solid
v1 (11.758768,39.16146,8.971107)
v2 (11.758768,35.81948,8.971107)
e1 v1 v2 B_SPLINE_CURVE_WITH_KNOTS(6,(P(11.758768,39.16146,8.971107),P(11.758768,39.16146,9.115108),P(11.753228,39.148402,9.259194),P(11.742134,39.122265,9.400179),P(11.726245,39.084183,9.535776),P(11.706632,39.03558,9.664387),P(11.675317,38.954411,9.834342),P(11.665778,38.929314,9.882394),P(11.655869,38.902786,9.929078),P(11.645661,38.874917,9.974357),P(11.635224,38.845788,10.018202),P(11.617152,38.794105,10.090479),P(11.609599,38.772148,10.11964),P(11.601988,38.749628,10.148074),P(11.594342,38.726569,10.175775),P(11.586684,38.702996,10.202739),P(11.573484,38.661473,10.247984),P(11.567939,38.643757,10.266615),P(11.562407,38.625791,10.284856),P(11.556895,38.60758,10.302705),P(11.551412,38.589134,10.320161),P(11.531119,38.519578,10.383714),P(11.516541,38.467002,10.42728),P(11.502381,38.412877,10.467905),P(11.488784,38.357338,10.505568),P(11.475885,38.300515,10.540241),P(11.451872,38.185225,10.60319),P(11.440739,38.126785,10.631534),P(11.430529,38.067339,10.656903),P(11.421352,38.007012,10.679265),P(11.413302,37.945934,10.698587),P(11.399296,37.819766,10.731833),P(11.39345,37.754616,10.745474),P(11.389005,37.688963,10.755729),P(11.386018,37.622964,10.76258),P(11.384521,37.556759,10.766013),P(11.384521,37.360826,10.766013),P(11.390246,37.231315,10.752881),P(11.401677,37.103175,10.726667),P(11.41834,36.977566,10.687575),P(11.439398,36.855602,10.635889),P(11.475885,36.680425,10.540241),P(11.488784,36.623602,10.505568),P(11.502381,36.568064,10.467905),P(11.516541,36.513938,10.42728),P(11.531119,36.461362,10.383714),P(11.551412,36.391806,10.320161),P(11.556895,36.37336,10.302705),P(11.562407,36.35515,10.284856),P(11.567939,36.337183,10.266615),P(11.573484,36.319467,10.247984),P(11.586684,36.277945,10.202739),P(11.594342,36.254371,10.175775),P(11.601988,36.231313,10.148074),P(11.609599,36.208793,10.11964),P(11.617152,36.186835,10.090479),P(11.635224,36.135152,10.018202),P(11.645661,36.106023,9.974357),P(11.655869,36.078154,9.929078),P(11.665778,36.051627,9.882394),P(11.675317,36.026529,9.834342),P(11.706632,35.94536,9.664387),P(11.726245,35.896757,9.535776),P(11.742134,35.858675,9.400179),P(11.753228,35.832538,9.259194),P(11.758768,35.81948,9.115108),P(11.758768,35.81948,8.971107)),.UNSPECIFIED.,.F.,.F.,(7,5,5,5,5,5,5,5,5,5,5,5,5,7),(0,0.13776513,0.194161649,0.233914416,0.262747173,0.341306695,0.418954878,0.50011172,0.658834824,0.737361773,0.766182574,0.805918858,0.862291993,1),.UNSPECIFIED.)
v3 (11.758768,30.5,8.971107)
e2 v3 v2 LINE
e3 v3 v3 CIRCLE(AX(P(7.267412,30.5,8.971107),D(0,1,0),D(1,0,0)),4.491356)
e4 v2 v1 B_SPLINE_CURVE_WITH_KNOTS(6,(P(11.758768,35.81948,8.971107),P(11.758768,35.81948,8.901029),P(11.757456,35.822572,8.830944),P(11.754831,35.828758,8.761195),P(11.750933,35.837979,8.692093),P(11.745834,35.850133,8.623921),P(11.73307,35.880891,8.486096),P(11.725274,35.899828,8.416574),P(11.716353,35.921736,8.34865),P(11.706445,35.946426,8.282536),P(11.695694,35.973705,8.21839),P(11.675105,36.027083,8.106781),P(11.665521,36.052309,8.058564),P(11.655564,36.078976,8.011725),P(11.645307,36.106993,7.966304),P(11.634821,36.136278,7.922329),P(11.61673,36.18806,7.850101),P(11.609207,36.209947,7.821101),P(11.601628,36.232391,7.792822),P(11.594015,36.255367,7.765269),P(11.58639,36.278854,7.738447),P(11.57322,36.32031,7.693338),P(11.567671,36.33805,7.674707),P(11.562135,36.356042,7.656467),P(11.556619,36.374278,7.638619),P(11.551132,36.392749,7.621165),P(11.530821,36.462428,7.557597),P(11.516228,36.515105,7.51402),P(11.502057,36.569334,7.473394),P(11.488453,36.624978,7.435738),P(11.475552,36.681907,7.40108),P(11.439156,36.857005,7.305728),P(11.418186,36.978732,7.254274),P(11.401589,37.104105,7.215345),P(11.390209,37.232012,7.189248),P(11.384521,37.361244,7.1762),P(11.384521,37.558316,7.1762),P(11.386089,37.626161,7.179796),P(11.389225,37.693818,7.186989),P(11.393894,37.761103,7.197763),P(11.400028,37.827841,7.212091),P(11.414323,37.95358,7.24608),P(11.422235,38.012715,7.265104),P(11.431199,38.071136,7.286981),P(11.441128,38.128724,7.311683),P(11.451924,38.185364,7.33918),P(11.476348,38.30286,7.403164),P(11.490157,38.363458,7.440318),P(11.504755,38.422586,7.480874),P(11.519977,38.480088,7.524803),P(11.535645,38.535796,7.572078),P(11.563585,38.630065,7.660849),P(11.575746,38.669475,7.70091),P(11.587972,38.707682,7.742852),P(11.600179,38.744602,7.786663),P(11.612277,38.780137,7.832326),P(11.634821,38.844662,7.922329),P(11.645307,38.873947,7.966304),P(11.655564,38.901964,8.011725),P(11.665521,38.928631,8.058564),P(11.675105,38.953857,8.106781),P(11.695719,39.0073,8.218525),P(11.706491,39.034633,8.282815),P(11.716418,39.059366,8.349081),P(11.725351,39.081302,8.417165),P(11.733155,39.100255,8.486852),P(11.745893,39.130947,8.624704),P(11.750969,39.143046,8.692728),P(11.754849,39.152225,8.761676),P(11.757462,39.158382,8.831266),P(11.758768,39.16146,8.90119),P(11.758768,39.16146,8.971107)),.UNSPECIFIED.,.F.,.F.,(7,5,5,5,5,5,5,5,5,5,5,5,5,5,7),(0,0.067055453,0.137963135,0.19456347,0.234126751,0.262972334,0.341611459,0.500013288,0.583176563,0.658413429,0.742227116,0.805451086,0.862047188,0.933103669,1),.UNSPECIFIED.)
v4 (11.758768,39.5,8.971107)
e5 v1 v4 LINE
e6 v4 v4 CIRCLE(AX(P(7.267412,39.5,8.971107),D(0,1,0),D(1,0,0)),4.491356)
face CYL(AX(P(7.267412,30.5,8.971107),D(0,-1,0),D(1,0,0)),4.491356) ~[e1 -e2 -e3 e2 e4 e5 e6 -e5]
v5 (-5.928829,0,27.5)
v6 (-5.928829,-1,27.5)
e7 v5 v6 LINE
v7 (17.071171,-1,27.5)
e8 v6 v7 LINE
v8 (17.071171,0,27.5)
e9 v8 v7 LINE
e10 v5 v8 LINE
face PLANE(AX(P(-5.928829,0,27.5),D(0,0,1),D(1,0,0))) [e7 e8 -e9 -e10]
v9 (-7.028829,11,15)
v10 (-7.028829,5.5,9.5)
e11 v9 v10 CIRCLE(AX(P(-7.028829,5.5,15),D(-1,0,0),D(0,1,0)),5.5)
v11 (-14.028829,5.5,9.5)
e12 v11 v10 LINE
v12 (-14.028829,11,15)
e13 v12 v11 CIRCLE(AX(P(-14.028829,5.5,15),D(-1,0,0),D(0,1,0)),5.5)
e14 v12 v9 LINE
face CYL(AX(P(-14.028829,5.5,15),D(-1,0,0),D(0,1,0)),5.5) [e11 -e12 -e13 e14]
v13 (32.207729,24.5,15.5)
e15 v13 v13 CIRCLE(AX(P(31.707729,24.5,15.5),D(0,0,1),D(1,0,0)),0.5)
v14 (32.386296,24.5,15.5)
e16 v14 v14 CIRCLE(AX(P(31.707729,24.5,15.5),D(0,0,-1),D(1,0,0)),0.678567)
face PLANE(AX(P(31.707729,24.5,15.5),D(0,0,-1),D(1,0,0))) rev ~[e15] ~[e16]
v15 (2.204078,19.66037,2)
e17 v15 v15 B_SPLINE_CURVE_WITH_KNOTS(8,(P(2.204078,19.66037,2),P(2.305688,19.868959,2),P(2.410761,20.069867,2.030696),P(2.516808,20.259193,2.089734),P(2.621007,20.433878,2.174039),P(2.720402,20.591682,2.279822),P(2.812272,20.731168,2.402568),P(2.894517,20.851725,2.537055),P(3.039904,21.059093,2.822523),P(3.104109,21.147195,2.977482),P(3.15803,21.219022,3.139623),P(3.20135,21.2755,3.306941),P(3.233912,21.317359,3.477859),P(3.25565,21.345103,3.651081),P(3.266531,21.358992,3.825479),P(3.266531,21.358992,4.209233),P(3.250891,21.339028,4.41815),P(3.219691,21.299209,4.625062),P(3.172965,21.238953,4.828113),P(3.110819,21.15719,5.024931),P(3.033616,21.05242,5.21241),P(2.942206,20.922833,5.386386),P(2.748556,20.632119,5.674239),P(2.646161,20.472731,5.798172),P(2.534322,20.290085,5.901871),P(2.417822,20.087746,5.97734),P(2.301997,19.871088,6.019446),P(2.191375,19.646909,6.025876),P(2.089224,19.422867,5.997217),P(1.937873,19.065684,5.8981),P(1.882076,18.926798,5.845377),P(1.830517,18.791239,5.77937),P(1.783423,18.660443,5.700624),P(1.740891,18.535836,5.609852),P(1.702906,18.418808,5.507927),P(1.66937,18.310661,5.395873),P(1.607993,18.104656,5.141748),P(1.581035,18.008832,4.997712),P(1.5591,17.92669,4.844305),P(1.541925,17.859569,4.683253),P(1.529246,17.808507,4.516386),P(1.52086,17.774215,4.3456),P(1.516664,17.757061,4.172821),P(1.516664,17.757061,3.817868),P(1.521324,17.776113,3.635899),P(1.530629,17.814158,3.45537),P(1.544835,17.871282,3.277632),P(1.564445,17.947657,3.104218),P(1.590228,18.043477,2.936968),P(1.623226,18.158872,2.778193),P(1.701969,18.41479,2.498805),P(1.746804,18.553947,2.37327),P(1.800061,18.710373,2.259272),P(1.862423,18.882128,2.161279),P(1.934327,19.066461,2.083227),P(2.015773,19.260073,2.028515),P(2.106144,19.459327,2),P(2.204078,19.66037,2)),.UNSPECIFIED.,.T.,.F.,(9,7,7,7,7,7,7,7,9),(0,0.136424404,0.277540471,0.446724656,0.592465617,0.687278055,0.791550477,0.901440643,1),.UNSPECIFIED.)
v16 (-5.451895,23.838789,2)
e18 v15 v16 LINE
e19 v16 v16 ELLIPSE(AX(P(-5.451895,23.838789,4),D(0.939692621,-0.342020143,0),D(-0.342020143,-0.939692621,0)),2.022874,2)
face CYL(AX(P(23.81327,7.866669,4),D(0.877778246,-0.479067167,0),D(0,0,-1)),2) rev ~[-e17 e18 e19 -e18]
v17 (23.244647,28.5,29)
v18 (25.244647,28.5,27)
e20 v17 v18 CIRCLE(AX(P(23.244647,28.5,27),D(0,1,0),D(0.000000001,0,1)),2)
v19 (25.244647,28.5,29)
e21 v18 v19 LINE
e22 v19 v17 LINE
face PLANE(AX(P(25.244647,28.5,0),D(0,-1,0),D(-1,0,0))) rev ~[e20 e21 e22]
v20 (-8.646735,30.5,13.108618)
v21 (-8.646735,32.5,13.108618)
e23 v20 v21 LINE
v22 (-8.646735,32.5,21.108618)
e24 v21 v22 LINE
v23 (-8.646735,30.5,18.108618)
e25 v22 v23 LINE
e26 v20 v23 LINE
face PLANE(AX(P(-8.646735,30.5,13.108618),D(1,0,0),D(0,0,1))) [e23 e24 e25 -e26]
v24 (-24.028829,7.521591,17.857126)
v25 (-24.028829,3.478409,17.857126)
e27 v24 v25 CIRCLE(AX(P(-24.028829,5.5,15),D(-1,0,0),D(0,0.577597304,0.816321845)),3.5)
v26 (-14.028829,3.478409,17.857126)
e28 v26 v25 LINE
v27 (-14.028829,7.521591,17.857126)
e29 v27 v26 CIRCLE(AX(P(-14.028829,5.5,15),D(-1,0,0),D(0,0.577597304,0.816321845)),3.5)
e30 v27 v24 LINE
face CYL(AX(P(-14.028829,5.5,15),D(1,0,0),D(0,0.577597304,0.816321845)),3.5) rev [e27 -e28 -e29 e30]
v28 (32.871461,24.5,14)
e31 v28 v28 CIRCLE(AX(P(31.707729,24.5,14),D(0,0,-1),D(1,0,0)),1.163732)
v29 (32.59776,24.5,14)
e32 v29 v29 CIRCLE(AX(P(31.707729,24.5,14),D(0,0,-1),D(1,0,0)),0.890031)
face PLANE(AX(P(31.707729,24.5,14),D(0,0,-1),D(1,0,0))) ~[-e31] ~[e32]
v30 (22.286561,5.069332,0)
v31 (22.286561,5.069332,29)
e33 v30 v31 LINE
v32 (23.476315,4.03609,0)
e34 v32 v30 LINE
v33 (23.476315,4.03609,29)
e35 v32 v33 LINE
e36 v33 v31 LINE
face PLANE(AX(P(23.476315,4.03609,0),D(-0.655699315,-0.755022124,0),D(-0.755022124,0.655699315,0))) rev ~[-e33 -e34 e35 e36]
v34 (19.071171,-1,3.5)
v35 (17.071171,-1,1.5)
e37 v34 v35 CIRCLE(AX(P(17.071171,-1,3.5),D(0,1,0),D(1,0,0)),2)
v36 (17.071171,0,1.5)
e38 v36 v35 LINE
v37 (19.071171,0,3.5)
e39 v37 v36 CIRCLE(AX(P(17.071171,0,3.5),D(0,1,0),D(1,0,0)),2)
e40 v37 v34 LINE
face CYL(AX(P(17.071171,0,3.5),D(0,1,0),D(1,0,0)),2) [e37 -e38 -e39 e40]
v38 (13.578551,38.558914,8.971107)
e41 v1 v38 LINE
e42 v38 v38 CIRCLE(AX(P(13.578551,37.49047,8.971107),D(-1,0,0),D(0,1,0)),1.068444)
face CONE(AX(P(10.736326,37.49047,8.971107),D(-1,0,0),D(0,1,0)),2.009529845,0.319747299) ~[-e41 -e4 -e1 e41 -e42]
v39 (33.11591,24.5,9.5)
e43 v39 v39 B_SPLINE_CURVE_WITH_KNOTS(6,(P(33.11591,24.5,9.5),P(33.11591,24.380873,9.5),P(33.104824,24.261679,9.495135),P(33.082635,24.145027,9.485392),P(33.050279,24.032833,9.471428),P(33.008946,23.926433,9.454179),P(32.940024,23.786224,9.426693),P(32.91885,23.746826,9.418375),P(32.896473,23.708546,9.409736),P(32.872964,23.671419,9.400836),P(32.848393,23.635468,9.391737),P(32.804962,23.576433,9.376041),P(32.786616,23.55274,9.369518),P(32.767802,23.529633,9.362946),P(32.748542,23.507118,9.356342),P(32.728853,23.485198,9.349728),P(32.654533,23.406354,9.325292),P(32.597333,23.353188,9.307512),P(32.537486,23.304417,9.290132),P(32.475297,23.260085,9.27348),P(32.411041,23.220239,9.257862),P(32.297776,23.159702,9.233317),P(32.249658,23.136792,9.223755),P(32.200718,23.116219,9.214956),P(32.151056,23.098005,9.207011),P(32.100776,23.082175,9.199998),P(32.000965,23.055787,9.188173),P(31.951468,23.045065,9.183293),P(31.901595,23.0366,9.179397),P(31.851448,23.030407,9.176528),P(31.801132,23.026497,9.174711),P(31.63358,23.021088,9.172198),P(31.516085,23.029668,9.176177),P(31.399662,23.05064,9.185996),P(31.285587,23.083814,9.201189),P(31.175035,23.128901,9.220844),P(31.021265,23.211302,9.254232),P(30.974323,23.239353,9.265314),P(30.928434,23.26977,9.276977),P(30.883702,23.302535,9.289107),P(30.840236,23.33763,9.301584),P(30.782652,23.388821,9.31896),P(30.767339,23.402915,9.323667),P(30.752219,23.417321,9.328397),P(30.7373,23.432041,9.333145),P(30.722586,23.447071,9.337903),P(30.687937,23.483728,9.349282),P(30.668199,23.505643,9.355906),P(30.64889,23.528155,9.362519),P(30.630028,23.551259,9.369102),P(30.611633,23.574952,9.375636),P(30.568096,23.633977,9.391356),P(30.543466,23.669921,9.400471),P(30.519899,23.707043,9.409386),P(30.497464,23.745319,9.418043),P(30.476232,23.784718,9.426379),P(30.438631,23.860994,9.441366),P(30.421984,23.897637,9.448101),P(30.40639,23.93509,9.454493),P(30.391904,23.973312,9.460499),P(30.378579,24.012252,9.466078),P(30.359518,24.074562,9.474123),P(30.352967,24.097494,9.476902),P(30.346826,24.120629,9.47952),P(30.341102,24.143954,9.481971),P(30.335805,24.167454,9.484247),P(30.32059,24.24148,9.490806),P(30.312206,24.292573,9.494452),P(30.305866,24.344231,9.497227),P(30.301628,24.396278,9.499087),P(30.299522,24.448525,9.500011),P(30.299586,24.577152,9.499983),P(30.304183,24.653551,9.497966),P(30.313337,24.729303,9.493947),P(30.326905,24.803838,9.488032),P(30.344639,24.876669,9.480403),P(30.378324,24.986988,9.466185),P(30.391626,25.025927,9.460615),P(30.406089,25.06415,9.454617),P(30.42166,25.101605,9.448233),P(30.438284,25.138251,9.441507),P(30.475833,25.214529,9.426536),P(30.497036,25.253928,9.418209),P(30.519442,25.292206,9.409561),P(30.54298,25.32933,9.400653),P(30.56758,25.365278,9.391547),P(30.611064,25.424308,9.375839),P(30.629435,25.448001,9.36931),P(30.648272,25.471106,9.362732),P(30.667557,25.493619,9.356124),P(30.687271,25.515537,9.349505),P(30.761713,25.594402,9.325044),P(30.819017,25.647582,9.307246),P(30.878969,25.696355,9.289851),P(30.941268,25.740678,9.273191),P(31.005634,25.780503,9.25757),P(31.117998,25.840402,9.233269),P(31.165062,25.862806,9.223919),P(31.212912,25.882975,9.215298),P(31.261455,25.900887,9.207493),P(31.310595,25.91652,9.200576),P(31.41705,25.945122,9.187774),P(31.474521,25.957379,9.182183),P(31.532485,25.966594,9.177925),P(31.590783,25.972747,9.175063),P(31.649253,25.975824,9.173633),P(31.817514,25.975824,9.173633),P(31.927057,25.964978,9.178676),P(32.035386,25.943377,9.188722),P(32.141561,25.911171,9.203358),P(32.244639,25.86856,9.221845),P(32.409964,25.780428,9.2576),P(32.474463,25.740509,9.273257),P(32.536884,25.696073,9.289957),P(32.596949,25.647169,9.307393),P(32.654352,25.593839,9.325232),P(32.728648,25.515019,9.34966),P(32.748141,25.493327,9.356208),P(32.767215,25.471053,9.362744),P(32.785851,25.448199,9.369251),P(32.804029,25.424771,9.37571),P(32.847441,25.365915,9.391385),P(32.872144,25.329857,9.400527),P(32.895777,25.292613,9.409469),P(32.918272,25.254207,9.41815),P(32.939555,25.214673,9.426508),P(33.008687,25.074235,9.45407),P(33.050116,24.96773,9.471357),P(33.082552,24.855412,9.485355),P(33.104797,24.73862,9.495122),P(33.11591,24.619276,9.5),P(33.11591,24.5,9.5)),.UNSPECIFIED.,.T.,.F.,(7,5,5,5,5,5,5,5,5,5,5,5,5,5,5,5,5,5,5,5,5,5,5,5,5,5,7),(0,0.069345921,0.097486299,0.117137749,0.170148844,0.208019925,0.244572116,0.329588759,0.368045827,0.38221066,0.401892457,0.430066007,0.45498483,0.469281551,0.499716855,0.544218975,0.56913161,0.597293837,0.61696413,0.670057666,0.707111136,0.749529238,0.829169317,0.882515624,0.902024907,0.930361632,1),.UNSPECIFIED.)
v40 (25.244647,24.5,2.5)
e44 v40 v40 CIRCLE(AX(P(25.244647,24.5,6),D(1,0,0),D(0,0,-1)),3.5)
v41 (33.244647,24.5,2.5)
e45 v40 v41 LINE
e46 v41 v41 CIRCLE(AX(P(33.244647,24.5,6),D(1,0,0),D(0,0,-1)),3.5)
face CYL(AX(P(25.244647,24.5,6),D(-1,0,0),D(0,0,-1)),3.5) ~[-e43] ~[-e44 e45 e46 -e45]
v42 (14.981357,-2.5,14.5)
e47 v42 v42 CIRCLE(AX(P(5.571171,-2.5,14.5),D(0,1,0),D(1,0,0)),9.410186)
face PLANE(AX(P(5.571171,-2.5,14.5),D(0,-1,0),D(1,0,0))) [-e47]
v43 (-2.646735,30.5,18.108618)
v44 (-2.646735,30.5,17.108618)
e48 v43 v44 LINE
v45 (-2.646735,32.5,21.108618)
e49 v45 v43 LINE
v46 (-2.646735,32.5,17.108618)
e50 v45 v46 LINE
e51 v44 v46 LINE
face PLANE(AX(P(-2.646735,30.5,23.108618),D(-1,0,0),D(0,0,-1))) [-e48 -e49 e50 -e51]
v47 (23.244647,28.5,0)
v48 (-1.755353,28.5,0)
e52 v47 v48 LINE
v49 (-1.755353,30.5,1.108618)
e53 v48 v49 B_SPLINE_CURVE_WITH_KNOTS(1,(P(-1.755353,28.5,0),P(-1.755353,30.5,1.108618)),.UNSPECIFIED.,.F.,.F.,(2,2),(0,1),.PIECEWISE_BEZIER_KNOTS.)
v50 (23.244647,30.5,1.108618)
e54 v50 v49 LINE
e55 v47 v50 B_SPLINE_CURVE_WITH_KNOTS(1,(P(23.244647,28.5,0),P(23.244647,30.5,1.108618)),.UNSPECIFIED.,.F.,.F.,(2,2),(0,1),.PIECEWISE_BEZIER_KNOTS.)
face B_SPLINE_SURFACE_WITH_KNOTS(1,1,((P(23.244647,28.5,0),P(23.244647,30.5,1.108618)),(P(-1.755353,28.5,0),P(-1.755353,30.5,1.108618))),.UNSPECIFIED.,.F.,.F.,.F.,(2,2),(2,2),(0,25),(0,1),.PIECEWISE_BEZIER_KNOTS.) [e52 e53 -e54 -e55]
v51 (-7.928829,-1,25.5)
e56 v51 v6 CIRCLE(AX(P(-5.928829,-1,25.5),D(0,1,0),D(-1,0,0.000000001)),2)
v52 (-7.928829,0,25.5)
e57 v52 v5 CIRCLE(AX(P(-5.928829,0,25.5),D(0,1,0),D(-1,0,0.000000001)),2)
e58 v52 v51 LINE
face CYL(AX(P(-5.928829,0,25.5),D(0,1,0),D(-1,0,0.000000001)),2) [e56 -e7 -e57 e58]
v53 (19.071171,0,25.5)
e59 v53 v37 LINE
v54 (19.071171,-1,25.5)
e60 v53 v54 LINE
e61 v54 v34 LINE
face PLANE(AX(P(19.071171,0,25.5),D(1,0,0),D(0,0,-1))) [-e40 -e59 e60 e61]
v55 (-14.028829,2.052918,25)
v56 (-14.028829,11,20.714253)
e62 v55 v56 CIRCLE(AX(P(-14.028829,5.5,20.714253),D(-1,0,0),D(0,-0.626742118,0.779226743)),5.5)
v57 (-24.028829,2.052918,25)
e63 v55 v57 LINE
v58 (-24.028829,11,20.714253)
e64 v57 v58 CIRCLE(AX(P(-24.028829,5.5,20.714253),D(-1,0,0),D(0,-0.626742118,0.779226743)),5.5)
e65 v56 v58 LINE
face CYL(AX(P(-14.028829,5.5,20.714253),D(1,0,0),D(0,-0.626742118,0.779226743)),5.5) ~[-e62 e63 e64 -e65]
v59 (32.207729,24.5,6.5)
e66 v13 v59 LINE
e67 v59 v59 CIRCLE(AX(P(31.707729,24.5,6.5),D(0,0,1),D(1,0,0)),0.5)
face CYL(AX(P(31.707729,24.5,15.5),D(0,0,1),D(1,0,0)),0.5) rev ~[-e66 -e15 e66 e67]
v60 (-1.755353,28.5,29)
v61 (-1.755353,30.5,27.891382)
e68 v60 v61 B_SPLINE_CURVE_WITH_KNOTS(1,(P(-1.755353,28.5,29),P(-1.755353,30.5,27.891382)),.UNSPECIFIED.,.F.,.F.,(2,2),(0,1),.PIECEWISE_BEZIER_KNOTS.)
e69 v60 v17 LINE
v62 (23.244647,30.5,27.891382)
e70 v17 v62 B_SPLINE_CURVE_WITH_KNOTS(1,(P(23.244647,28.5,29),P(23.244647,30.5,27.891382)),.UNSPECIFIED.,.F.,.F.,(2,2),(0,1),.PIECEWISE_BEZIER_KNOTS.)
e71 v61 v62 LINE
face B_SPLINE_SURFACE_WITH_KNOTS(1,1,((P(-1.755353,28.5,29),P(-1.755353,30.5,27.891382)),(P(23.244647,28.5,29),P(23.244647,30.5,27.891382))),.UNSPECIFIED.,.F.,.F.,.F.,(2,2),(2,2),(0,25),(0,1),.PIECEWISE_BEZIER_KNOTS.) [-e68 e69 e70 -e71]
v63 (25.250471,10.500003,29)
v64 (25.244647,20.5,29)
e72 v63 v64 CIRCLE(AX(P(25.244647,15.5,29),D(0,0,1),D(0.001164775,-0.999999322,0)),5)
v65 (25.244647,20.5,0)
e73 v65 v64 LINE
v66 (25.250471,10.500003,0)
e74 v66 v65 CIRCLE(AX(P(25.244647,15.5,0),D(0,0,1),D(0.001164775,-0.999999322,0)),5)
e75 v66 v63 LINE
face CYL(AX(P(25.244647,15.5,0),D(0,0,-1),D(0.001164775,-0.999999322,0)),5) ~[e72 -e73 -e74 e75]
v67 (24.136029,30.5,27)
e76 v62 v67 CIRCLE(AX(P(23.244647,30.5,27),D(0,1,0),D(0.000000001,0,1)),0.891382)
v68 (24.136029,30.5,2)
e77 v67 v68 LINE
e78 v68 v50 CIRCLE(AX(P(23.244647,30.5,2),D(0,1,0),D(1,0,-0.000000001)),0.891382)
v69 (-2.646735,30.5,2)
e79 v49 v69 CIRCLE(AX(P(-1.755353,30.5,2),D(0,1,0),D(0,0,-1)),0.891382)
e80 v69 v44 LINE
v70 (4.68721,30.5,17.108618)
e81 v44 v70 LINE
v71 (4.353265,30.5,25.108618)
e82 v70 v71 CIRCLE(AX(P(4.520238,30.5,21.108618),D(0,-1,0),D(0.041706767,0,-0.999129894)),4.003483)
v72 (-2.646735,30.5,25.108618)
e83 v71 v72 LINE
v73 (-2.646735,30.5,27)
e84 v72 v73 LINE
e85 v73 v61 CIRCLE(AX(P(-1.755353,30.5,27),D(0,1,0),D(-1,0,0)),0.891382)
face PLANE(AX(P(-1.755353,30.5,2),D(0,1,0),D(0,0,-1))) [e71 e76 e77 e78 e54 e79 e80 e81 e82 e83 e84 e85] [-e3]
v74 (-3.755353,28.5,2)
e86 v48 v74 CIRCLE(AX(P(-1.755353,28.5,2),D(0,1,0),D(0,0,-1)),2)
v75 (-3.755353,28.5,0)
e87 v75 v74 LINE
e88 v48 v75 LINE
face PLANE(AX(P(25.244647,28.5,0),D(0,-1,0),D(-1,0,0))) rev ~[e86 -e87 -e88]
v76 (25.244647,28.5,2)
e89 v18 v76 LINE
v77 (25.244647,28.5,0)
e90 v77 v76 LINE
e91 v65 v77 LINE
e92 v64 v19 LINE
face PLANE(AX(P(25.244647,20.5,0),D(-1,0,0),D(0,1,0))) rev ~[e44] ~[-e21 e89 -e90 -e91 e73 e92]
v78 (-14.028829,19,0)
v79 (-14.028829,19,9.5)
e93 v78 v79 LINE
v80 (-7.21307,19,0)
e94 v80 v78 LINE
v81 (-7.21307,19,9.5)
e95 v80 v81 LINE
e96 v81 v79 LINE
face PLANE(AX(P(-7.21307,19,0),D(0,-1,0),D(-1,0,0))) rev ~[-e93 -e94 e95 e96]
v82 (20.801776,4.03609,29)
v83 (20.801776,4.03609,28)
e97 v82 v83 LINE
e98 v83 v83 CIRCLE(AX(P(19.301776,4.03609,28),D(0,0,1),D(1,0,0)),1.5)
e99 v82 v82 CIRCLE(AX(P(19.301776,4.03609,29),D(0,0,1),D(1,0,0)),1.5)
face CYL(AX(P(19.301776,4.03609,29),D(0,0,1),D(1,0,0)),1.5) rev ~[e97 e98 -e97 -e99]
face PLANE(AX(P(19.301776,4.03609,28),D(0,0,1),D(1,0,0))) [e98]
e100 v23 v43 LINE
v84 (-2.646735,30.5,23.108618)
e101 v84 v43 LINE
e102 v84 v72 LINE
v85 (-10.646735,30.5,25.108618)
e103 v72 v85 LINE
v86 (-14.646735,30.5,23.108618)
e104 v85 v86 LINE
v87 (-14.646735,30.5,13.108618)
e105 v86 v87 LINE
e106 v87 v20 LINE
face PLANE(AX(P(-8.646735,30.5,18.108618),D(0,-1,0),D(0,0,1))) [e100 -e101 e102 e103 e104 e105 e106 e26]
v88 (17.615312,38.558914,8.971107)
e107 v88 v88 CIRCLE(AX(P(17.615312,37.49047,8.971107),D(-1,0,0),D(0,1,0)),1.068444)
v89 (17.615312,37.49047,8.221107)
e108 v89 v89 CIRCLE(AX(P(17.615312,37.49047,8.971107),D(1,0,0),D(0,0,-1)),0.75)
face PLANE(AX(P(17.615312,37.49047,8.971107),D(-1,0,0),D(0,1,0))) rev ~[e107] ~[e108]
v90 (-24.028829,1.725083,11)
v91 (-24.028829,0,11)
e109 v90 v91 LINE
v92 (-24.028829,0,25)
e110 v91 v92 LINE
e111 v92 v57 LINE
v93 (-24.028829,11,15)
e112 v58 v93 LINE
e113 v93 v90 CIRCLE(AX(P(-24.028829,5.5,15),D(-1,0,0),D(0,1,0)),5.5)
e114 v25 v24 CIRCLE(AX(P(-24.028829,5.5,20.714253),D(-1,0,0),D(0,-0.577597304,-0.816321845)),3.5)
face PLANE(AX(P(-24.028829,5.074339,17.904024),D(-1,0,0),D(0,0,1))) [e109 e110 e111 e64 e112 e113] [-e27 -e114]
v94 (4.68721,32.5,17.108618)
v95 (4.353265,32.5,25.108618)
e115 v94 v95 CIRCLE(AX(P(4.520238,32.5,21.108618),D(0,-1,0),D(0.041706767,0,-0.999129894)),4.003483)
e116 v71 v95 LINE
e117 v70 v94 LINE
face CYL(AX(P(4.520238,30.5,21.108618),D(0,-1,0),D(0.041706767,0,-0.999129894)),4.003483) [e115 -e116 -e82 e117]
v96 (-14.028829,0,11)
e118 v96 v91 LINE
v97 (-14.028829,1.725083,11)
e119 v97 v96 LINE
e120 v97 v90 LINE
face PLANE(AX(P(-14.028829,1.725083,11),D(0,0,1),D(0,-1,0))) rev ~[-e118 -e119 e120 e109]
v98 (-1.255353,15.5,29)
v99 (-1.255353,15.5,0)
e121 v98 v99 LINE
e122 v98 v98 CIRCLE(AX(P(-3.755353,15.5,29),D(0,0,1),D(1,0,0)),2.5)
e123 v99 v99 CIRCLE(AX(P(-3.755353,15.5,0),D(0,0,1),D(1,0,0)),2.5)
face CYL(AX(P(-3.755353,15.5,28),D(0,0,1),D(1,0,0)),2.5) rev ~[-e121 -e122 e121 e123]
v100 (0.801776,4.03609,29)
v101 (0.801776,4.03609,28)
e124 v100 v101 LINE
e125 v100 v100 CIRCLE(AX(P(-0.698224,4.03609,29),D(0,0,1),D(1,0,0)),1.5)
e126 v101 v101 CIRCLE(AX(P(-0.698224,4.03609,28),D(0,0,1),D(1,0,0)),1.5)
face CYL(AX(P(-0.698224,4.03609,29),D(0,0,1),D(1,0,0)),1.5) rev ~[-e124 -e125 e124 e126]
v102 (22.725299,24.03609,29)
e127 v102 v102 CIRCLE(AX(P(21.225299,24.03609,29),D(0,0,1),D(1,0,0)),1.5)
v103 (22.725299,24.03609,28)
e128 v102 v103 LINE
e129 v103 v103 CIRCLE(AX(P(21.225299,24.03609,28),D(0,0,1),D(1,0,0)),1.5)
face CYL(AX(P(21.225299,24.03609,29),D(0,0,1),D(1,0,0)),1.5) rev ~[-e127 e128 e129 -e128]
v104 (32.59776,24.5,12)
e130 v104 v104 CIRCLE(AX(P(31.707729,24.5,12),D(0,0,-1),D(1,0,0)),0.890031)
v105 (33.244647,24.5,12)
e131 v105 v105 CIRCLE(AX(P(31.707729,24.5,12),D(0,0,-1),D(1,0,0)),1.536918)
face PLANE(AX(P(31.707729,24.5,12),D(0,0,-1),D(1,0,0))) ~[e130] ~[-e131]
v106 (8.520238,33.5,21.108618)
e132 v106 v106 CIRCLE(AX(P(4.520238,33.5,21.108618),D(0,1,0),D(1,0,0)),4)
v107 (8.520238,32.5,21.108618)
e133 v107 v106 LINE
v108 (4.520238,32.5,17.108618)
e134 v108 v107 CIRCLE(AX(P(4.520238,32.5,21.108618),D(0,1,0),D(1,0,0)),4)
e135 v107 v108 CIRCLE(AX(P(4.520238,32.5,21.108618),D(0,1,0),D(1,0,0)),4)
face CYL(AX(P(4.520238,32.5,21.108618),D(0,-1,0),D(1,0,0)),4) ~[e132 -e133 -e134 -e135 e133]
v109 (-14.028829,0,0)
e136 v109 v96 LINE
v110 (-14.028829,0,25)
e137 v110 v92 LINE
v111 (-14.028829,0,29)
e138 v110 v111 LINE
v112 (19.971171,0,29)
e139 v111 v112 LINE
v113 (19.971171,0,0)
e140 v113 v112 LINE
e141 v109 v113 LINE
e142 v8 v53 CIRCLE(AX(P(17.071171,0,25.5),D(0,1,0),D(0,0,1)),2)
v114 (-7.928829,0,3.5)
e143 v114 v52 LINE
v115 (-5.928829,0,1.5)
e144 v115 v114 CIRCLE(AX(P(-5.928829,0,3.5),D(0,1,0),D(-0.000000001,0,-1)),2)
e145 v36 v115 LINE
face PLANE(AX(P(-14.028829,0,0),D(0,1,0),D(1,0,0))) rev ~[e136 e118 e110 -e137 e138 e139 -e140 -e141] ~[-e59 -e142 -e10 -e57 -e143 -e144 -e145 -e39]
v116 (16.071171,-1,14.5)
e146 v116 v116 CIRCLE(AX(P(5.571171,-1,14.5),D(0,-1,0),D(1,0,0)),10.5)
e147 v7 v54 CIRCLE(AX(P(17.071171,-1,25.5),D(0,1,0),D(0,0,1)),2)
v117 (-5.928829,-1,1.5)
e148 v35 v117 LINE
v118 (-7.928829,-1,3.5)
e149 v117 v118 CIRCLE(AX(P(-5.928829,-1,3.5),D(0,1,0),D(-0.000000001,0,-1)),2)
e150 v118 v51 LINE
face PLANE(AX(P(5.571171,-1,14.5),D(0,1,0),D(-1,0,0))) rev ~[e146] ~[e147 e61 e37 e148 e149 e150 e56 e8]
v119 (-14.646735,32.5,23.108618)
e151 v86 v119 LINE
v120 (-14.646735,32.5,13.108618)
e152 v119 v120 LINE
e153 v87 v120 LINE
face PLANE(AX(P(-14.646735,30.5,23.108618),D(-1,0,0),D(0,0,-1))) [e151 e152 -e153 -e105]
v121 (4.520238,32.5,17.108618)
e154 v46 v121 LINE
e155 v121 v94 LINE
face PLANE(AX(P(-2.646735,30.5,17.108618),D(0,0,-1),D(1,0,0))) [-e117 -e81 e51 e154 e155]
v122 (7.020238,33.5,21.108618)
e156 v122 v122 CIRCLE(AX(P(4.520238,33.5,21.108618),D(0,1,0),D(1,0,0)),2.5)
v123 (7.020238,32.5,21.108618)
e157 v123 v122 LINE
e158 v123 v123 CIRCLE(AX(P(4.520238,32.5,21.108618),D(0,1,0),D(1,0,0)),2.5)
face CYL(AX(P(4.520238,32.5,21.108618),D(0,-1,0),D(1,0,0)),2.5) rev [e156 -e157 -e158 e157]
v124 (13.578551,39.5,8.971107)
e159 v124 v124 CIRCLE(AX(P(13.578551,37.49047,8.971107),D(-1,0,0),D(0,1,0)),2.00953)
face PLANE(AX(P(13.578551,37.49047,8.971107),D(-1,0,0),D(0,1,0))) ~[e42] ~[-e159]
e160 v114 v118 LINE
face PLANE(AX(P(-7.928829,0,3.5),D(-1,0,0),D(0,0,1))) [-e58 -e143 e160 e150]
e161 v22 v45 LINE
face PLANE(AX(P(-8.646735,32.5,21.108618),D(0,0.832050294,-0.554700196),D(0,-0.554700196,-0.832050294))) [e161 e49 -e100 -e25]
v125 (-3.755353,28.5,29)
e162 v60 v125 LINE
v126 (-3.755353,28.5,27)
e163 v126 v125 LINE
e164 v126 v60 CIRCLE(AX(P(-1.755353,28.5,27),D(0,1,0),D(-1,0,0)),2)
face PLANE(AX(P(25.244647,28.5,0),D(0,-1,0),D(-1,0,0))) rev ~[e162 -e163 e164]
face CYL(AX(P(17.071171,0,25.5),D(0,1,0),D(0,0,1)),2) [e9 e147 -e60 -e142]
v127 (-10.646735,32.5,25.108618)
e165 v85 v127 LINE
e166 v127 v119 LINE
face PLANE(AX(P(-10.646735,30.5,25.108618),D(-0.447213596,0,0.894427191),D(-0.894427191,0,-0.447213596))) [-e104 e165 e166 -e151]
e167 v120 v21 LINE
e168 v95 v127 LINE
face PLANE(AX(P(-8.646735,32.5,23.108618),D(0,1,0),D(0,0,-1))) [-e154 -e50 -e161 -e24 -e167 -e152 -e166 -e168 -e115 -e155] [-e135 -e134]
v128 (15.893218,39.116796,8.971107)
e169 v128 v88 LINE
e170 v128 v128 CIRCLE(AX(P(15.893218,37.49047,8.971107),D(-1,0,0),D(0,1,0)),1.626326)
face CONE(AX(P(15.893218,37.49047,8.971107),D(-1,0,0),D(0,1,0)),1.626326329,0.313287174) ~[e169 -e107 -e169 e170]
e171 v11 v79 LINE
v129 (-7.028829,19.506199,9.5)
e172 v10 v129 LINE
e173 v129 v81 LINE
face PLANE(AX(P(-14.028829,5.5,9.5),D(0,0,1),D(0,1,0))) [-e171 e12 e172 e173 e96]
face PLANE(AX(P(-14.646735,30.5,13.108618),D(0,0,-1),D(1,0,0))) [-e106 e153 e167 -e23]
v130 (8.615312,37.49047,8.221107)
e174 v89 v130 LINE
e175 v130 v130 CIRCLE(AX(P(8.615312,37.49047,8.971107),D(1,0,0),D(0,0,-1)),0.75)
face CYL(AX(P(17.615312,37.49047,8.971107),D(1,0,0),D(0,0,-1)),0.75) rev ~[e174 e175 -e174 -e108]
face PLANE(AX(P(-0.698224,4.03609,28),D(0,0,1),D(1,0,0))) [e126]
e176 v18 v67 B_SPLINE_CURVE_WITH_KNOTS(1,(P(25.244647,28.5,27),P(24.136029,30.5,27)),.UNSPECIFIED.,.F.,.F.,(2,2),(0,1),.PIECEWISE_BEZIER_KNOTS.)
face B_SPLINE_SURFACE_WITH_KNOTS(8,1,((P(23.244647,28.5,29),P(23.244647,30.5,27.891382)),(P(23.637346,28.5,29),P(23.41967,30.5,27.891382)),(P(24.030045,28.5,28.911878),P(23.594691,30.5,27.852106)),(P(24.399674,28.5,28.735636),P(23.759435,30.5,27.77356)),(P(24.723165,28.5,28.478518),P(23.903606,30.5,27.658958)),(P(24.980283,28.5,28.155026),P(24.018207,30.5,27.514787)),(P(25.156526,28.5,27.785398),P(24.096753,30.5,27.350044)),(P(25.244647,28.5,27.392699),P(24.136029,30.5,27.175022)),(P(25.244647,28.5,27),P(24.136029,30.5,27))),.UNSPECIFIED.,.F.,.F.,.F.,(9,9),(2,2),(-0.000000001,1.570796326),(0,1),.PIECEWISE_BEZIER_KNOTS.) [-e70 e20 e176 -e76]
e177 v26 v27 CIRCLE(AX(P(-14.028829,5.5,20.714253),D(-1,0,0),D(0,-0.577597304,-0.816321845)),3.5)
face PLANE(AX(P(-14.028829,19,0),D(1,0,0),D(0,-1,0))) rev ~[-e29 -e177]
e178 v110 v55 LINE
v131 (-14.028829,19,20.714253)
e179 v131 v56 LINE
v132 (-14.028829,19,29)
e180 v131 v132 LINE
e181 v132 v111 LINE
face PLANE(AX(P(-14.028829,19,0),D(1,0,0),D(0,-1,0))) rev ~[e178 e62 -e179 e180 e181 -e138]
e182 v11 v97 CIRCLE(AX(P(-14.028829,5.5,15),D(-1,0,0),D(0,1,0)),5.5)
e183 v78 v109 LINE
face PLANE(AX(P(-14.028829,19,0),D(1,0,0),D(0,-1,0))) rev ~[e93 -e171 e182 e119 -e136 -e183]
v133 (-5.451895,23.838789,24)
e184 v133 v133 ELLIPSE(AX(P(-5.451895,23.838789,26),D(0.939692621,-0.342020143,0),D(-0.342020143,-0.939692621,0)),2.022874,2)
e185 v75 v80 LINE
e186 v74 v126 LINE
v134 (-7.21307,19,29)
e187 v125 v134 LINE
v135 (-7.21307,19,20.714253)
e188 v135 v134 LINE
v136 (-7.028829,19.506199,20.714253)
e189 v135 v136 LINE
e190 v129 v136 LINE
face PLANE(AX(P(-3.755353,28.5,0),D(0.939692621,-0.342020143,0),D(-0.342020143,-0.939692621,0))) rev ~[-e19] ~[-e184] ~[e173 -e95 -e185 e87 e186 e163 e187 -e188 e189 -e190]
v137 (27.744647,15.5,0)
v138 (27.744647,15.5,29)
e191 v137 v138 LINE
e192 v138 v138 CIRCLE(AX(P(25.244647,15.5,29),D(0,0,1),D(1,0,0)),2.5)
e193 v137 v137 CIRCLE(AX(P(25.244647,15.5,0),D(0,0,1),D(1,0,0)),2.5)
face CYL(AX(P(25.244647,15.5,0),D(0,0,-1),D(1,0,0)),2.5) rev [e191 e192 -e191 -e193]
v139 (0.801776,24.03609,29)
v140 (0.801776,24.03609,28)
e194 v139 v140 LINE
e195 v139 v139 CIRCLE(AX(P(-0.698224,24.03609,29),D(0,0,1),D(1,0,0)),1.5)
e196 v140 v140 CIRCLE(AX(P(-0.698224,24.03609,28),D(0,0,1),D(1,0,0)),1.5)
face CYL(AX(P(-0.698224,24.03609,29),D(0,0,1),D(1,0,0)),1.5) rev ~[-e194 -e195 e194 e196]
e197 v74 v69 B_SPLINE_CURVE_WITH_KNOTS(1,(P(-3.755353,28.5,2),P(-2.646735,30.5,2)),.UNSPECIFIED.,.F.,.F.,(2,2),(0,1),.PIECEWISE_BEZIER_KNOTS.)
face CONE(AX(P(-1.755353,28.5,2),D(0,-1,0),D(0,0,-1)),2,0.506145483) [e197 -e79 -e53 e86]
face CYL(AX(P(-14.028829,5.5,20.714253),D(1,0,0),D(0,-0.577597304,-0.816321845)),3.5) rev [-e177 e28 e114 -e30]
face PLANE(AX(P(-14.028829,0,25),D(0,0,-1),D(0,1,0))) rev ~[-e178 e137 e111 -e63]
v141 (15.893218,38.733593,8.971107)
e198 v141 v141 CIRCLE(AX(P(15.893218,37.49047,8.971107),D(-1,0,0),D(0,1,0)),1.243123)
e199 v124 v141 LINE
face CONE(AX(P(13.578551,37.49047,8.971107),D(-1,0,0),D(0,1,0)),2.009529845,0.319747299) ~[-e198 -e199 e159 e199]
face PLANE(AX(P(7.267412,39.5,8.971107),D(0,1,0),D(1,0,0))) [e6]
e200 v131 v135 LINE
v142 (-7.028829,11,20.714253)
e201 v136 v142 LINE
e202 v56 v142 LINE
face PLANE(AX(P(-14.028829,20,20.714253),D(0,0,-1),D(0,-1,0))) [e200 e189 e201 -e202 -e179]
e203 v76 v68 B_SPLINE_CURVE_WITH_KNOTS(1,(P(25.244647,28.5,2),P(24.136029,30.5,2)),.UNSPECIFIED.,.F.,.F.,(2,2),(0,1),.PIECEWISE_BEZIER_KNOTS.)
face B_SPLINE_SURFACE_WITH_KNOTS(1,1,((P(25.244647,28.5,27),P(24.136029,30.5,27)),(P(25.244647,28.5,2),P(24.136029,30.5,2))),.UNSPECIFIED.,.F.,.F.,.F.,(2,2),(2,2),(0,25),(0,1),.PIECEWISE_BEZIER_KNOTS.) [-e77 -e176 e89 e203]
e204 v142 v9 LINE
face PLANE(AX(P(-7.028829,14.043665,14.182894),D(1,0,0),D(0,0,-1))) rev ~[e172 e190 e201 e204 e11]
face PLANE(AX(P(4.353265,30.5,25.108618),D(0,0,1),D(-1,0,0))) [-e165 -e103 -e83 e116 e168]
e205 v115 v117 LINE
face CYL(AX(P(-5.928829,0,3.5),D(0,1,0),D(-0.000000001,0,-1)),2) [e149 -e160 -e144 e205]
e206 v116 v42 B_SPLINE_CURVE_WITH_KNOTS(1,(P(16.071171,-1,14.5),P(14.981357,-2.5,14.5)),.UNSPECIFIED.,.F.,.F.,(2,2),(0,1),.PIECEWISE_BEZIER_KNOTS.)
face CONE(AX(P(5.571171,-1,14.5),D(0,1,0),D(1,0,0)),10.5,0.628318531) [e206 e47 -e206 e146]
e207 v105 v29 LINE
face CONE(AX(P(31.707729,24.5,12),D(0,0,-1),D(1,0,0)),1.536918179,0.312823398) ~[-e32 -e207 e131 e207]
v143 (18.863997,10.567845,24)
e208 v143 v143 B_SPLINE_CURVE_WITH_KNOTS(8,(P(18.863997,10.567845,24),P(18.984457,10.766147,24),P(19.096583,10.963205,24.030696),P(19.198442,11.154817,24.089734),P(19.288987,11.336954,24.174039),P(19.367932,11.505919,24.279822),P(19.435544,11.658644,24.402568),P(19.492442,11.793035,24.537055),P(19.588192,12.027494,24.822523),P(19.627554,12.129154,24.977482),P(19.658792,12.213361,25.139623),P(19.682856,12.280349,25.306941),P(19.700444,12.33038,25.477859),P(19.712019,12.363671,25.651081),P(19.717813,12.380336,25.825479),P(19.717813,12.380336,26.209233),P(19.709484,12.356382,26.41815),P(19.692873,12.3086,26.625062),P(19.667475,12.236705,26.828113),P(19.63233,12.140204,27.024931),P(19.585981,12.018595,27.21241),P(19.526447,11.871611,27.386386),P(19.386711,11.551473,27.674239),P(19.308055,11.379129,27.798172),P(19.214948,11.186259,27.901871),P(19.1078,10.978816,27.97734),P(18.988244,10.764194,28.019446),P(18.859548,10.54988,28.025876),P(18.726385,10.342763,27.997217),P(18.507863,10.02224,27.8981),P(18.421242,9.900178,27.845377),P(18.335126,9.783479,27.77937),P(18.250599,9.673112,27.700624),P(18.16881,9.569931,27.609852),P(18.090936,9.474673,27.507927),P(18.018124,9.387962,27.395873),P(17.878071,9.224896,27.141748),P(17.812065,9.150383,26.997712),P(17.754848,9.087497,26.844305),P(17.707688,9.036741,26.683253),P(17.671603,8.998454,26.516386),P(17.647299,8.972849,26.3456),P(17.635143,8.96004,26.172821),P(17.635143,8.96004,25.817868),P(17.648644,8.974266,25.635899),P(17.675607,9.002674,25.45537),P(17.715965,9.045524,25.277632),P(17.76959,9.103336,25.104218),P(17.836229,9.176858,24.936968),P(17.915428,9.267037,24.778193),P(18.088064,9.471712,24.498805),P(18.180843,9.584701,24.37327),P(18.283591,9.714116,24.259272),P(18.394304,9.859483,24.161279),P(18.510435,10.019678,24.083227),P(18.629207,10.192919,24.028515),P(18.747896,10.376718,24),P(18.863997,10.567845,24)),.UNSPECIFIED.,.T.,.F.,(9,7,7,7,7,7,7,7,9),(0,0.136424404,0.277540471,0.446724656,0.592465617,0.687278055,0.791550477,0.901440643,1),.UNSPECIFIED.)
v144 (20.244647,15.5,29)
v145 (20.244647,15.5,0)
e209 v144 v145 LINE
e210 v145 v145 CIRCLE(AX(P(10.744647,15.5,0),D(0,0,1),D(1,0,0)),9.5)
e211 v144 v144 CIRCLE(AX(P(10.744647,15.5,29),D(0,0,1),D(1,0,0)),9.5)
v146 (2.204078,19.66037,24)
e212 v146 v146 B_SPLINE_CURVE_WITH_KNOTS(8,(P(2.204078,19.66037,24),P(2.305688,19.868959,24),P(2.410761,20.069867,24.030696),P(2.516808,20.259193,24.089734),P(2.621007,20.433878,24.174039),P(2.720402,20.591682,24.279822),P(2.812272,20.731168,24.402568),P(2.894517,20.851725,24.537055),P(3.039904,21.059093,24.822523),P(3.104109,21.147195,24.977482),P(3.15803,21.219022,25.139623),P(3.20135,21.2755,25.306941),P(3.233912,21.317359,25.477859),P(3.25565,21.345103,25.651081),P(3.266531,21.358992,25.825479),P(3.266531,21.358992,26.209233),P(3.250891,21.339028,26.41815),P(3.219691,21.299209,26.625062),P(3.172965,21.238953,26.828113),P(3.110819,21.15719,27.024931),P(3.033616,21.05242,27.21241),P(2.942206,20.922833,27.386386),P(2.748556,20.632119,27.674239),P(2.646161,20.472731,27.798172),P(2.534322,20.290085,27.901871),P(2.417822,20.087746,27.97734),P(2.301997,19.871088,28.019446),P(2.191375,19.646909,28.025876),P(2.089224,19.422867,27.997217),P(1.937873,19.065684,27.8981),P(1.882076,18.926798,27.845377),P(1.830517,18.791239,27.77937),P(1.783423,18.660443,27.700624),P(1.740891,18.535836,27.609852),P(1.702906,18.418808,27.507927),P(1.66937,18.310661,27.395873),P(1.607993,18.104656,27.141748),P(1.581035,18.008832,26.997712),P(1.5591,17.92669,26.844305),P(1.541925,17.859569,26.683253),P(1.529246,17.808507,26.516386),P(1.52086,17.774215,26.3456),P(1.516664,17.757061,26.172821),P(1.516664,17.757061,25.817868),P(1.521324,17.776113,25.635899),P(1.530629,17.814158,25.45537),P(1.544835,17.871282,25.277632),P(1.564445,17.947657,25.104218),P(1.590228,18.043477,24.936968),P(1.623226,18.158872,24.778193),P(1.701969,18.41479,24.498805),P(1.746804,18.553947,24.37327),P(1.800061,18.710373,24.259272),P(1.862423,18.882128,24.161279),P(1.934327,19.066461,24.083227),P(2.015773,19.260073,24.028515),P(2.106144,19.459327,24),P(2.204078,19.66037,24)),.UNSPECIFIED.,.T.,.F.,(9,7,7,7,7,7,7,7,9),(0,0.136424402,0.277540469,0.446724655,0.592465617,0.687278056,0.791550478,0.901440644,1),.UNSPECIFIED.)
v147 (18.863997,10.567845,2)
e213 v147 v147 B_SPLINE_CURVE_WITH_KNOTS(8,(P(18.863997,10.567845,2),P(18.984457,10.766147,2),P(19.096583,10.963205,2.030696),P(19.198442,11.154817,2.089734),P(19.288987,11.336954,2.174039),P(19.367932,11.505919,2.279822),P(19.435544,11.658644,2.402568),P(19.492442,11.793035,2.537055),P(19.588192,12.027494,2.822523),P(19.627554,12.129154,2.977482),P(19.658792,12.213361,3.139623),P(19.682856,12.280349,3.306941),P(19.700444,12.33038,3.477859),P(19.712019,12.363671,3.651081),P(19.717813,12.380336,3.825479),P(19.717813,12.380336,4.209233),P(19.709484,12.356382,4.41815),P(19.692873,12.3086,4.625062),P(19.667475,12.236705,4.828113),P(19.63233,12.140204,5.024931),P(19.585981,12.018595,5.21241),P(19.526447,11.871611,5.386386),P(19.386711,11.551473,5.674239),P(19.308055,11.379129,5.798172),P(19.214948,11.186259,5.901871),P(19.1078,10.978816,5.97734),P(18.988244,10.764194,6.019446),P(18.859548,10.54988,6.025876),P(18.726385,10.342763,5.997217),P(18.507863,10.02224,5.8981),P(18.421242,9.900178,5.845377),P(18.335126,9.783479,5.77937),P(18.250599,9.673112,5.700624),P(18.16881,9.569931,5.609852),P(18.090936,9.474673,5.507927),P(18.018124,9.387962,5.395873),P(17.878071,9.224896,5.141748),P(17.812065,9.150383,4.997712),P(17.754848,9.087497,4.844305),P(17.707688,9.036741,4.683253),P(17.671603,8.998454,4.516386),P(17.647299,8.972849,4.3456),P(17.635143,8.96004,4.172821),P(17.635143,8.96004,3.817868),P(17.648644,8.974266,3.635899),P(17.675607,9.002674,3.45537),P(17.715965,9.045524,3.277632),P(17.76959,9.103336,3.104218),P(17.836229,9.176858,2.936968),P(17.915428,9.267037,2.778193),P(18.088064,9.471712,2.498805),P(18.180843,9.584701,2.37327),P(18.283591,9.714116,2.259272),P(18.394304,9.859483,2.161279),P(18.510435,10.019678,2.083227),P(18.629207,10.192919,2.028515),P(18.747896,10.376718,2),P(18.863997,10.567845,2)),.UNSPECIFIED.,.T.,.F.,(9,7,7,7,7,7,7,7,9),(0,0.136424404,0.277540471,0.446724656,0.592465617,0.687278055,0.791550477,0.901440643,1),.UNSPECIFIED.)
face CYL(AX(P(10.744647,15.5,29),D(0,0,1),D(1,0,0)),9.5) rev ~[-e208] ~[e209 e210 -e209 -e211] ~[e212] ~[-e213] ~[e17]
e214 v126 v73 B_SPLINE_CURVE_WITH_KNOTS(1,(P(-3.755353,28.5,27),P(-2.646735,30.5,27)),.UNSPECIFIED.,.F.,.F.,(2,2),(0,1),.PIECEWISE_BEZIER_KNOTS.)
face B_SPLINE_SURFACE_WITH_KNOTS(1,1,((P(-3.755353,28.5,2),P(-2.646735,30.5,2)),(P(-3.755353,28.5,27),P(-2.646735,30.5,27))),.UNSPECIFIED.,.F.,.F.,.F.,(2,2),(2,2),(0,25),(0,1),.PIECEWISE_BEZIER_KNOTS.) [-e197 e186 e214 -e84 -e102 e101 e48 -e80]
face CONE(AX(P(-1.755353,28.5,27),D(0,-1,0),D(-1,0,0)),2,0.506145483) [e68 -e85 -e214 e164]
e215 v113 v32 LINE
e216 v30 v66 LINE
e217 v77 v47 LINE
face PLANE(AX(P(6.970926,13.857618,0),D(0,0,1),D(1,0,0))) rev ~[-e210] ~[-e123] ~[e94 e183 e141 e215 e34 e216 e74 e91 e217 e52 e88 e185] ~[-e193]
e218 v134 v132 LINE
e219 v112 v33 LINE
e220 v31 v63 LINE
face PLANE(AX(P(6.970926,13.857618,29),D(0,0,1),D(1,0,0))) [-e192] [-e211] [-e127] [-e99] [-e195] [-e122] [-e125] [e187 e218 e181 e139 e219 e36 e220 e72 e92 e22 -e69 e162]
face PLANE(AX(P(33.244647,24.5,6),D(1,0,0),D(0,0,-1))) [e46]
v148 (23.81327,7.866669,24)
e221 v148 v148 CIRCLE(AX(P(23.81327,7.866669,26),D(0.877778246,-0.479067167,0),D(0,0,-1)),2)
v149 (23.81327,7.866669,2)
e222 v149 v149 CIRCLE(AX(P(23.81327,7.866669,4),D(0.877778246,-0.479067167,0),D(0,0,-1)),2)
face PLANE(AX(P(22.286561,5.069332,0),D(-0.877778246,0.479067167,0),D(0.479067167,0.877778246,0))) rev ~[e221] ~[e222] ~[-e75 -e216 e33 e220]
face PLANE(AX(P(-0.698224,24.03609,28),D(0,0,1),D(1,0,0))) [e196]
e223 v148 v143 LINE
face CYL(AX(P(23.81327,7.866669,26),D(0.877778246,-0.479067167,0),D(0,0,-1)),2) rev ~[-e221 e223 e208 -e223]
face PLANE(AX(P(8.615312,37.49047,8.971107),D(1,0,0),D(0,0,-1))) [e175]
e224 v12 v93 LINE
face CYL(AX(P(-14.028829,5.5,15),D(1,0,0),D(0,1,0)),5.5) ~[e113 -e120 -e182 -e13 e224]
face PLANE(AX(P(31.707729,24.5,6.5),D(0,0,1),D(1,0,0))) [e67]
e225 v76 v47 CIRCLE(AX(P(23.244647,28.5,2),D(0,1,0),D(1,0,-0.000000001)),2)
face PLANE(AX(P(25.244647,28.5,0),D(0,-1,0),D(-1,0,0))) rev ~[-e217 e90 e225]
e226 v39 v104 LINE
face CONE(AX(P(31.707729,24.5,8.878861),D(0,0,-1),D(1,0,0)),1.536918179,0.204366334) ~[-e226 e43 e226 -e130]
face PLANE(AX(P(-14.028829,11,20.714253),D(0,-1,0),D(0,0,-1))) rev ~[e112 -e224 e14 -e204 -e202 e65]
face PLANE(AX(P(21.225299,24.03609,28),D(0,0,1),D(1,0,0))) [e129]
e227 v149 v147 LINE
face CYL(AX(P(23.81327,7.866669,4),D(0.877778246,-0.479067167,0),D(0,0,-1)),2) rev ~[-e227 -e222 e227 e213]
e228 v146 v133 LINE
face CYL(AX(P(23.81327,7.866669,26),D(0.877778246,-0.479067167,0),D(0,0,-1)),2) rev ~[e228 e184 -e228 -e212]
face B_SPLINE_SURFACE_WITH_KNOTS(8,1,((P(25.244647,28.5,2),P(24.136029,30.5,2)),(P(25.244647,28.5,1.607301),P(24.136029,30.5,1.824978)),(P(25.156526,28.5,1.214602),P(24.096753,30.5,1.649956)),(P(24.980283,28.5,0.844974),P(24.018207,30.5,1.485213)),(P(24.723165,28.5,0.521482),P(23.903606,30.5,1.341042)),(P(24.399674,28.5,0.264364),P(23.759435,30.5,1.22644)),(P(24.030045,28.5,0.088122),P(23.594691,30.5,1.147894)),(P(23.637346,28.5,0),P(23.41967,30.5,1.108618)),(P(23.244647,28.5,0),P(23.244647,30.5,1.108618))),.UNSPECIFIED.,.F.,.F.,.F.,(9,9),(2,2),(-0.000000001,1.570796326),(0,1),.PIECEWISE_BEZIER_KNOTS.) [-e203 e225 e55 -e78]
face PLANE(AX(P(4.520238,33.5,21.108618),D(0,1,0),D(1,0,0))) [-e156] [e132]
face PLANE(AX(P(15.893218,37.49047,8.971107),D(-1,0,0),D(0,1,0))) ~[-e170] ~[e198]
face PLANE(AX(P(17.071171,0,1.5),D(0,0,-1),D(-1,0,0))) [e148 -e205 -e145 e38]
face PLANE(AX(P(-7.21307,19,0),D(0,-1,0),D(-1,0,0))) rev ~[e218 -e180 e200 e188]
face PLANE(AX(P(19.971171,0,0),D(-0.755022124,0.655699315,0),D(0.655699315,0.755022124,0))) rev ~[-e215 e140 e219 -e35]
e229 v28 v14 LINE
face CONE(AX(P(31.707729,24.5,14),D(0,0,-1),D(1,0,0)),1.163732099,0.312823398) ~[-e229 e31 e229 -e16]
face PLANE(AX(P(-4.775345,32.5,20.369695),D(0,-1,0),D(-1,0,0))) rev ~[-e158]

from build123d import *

# Parameters (mm, degrees)
SKETCH1_R            = 2.5
BOSS_EXTRUDE1_DEPTH  = 29
SKETCH2_R            = 9.5
CUT_EXTRUDE1_DEPTH   = 30
SKETCH2_6_R          = 9.5
SKETCH2_6_R_2        = 2.5
SKETCH2_6_R_3        = 1.5
CUT_EXTRUDE2_DEPTH   = 1
SKETCH6_R            = 2.5
SKETCH6_R_2          = 9.5
CUT_EXTRUDE3_DEPTH   = 29
SKETCH27_R           = 2
CUT_EXTRUDE7_DEPTH   = 65
BOSS_EXTRUDE2_DEPTH  = 10
CUT_EXTRUDE4_DEPTH   = 7
BOSS_EXTRUDE3_DEPTH  = 1
SKETCH13_R           = 10.5
BOSS_EXTRUDE4_DEPTH  = 1.5
BOSS_EXTRUDE4_TAPER  = 36
SKETCH14_R           = 3.5
BOSS_EXTRUDE5_DEPTH  = 8
BOSS_EXTRUDE6_DEPTH  = 2
BOSS_EXTRUDE6_TAPER  = 29
SKETCH18_R           = 4.491355914
BOSS_EXTRUDE7_DEPTH  = 9
BOSS_EXTRUDE8_DEPTH  = 2
SKETCH20_R           = 4
SKETCH20_R_2         = 2.5
BOSS_EXTRUDE9_DEPTH  = 1
BOSS_EXTRUDE10_DEPTH = 6
SKETCH25_R           = 0.5
CUT_EXTRUDE5_DEPTH   = 9
SKETCH26_R           = 0.75
CUT_EXTRUDE6_DEPTH   = 9


with BuildPart() as part:
    # Sketch1 → Boss-Extrude1 (new body)
    with BuildSketch(Plane.XY):
        with BuildLine():
            Line((-14.028828829, 0), (19.971171171, 0))
            Line((19.971171171, 0), (23.476315099, 4.036089643))
            Line((23.476315099, 4.036089643), (22.286560603, 5.069332489))
            Line((22.286560603, 5.069332489), (25.250471061, 10.500003392))
            ThreePointArc((25.250471061, 10.500003392), (30.244646337, 15.502911939), (25.244647185, 20.5))
            Line((25.244647185, 20.5), (25.244647185, 28.5))
            Line((25.244647185, 28.5), (-3.755352815, 28.5))
            Line((-3.755352815, 28.5), (-7.213070041, 19))
            Line((-7.213070041, 19), (-14.028828829, 19))
            Line((-14.028828829, 19), (-14.028828829, 0))
        make_face()
        with Locations((25.244647185, 15.5)):
            Circle(SKETCH1_R, mode=Mode.SUBTRACT)
    extrude(amount=BOSS_EXTRUDE1_DEPTH)

    # Sketch2 → Cut-Extrude1 (cut, through all)
    with BuildSketch(Plane.XY.offset(29)):
        with Locations((10.744647185, 15.5)):
            Circle(SKETCH2_R)
    extrude(amount=-CUT_EXTRUDE1_DEPTH, mode=Mode.SUBTRACT)

    # Sketch2_6 → Cut-Extrude2 (cut)
    with BuildSketch(Plane.XY.offset(29)):
        with Locations((10.744647185, 15.5)):
            Circle(SKETCH2_6_R)
        with Locations((-3.755352815, 15.5)):
            Circle(SKETCH2_6_R_2)
        with Locations((21.22529921, 24.036089643)):
            Circle(SKETCH2_6_R_3)
        with Locations((-0.698224059, 24.036089643)):
            Circle(SKETCH2_6_R_3)
        with Locations((19.301775941, 4.036089643)):
            Circle(SKETCH2_6_R_3)
        with Locations((-0.698224059, 4.036089643)):
            Circle(SKETCH2_6_R_3)
    extrude(amount=-CUT_EXTRUDE2_DEPTH, mode=Mode.SUBTRACT)

    # Sketch6 → Cut-Extrude3 (cut, through all)
    with BuildSketch(Plane.XY.offset(28)):
        with Locations((-3.755352815, 15.5)):
            Circle(SKETCH6_R)
        with Locations((25.244647185, 15.5)):
            Circle(SKETCH6_R)
        with Locations((10.744647185, 15.5)):
            Circle(SKETCH6_R_2)
    extrude(amount=-CUT_EXTRUDE3_DEPTH, mode=Mode.SUBTRACT)

    # Sketch27 → Cut-Extrude7 (cut)
    with BuildSketch(Plane(origin=(15.039946678, -8.208388255, 0), x_dir=(0, 0, -1), z_dir=(0.877778246, -0.479067167, 0))):
        with Locations((-26, 18.313346199)):
            Circle(SKETCH27_R)
        with Locations((-4, 18.313346199)):
            Circle(SKETCH27_R)
    extrude(amount=-CUT_EXTRUDE7_DEPTH, mode=Mode.SUBTRACT)

    # Sketch10 → Boss-Extrude2 (add)
    with BuildSketch(Plane.ZY.offset(14.028828829)):
        with BuildLine():
            Line((11, 0), (25, 0))
            Line((25, 0), (25, 2.052918349))
            ThreePointArc((25, 2.052918349), (25.674542678, 7.876031451), (20.714252914, 11))
            Line((20.714252914, 11), (15, 11))
            ThreePointArc((15, 11), (9.949651265, 7.678067412), (11, 1.725082782))
            Line((11, 1.725082782), (11, 0))
        make_face()
        with BuildLine():
            ThreePointArc((17.857126457, 3.478409436), (24.214252914, 5.5), (17.857126457, 7.521590564))
            ThreePointArc((17.857126457, 7.521590564), (11.5, 5.5), (17.857126457, 3.478409436))
        make_face(mode=Mode.SUBTRACT)
    extrude(amount=BOSS_EXTRUDE2_DEPTH)

    # Sketch11 → Cut-Extrude4 (cut)
    with BuildSketch(Plane.ZY.offset(14.028828829)):
        with BuildLine():
            Line((9.5, 5.5), (9.5, 19))
            Line((9.5, 19), (9.5, 20))
            Line((9.5, 20), (20.714252914, 20))
            Line((20.714252914, 20), (20.714252914, 19))
            Line((20.714252914, 19), (20.714252914, 11))
            Line((20.714252914, 11), (15, 11))
            ThreePointArc((15, 11), (11.110912703, 9.389087297), (9.5, 5.5))
        make_face()
    extrude(amount=-CUT_EXTRUDE4_DEPTH, mode=Mode.SUBTRACT)

    # Sketch12 → Boss-Extrude3 (add)
    with BuildSketch(Plane.XZ):
        with BuildLine():
            Line((-5.928828829, 27.5), (17.071171171, 27.5))
            ThreePointArc((17.071171171, 27.5), (18.485384734, 26.914213562), (19.071171171, 25.5))
            Line((19.071171171, 25.5), (19.071171171, 3.5))
            ThreePointArc((19.071171171, 3.5), (18.485384734, 2.085786438), (17.071171171, 1.5))
            Line((17.071171171, 1.5), (-5.928828829, 1.5))
            ThreePointArc((-5.928828829, 1.5), (-7.343042391, 2.085786438), (-7.928828829, 3.5))
            Line((-7.928828829, 3.5), (-7.928828829, 25.5))
            ThreePointArc((-7.928828829, 25.5), (-7.343042391, 26.914213562), (-5.928828829, 27.5))
        make_face()
    extrude(amount=BOSS_EXTRUDE3_DEPTH)

    # Sketch13 → Boss-Extrude4 (add)
    with BuildSketch(Plane.XZ.offset(1)):
        with Locations((5.571171171, 14.5)):
            Circle(SKETCH13_R)
    extrude(amount=BOSS_EXTRUDE4_DEPTH, taper=BOSS_EXTRUDE4_TAPER)

    # Sketch14 → Boss-Extrude5 (add)
    with BuildSketch(Plane(origin=(25.244647185, 0, 0), x_dir=(0, 0, -1), z_dir=(1, 0, 0))):
        with Locations((-6, 24.5)):
            Circle(SKETCH14_R)
    extrude(amount=BOSS_EXTRUDE5_DEPTH)

    # Sketch16 → Revolve1 (revolve)
    with BuildSketch(Plane.ZX.offset(24.5)):
        Polygon((8.87886056, 33.244647185), (12, 32.59776031), (12, 33.244647185), (14, 32.59776031), (14, 32.871461105), (15.5, 32.386295949), (15.5, 31.707729006), (9.5, 31.707729006), (8.87886056, 31.707729006), align=None)
    revolve(axis=Axis((31.707729006, 24.5, 15.5), (0, 0, -1)))

    # Sketch17 → Boss-Extrude6 (add)
    with BuildSketch(Plane(origin=(0, 28.5, 0), x_dir=(1, 0, 0), z_dir=(0, 1, 0))):
        with BuildLine():
            Line((23.244647185, 0), (-1.755352815, 0))
            ThreePointArc((-1.755352815, 0), (-3.169566378, -0.585786438), (-3.755352815, -2))
            Line((-3.755352815, -2), (-3.755352815, -27))
            ThreePointArc((-3.755352815, -27), (-3.169566378, -28.414213562), (-1.755352815, -29))
            Line((-1.755352815, -29), (23.244647185, -29))
            ThreePointArc((23.244647185, -29), (24.658860747, -28.414213562), (25.244647185, -27))
            Line((25.244647185, -27), (25.244647185, -2))
            ThreePointArc((25.244647185, -2), (24.658860747, -0.585786438), (23.244647185, 0))
        make_face()
    extrude(amount=BOSS_EXTRUDE6_DEPTH, taper=BOSS_EXTRUDE6_TAPER)

    # Sketch18 → Boss-Extrude7 (add)
    with BuildSketch(Plane(origin=(0, 30.5, 0), x_dir=(1, 0, 0), z_dir=(0, 1, 0))):
        with Locations((7.267412162, -8.971106597)):
            Circle(SKETCH18_R)
    extrude(amount=BOSS_EXTRUDE7_DEPTH)

    # Sketch19 → Boss-Extrude8 (add)
    with BuildSketch(Plane(origin=(0, 30.5, 0), x_dir=(1, 0, 0), z_dir=(0, 1, 0))):
        with BuildLine():
            Line((-10.646734712, -25.108618103), (-14.646734712, -23.108618103))
            Line((-14.646734712, -23.108618103), (-14.646734712, -13.108618103))
            Line((-14.646734712, -13.108618103), (-8.646734712, -13.108618103))
            Line((-8.646734712, -13.108618103), (-8.646734712, -23.108618103))
            Line((-8.646734712, -23.108618103), (-2.646734712, -23.108618103))
            Line((-2.646734712, -23.108618103), (-2.646734712, -17.108618103))
            Line((-2.646734712, -17.108618103), (4.687209994, -17.108618103))
            ThreePointArc((4.687209994, -17.108618103), (8.520237641, -21.275590456), (4.353265288, -25.108618103))
            Line((4.353265288, -25.108618103), (-2.646734712, -25.108618103))
            Line((-2.646734712, -25.108618103), (-10.646734712, -25.108618103))
        make_face()
    extrude(amount=BOSS_EXTRUDE8_DEPTH)

    # Sketch20 → Boss-Extrude9 (add)
    with BuildSketch(Plane(origin=(0, 32.5, 0), x_dir=(1, 0, 0), z_dir=(0, 1, 0))):
        with Locations((4.520237641, -21.108618103)):
            Circle(SKETCH20_R)
        with Locations((4.520237641, -21.108618103)):
            Circle(SKETCH20_R_2, mode=Mode.SUBTRACT)
    extrude(amount=BOSS_EXTRUDE9_DEPTH)

    # Sketch22 → Revolve2 (revolve)
    with BuildSketch(Plane(origin=(0, 0, 8.971106597), x_dir=(-1, 0, 0), z_dir=(0, 0, -1))):
        Polygon((-17.615312055, 37.490470155), (-10.736326453, 37.490470155), (-10.736326453, 39.5), (-13.578550719, 38.558914033), (-13.578550719, 39.5), (-15.893217754, 38.733592967), (-15.893217754, 39.116796484), (-17.615312055, 38.558914033), align=None)
    revolve(axis=Axis((17.615312055, 37.490470155, 8.971106597), (-1, 0, 0)))

    # Sketch24 → Boss-Extrude10 (add)
    with BuildSketch(Plane(origin=(-8.646734712, 0, 0), x_dir=(0, 0, -1), z_dir=(1, 0, 0))):
        Polygon((-21.108618103, 32.5), (-18.108618103, 30.5), (-23.108618103, 30.5), (-23.108618103, 32.5), align=None)
    extrude(amount=BOSS_EXTRUDE10_DEPTH)

    # Sketch25 → Cut-Extrude5 (cut)
    with BuildSketch(Plane.XY.offset(15.5)):
        with Locations((31.707729006, 24.5)):
            Circle(SKETCH25_R)
    extrude(amount=-CUT_EXTRUDE5_DEPTH, mode=Mode.SUBTRACT)

    # Sketch26 → Cut-Extrude6 (cut)
    with BuildSketch(Plane(origin=(17.615312055, 0, 0), x_dir=(0, 0, -1), z_dir=(1, 0, 0))):
        with Locations((-8.971106597, 37.490470155)):
            Circle(SKETCH26_R)
    extrude(amount=-CUT_EXTRUDE6_DEPTH, mode=Mode.SUBTRACT)


solid = part.part
